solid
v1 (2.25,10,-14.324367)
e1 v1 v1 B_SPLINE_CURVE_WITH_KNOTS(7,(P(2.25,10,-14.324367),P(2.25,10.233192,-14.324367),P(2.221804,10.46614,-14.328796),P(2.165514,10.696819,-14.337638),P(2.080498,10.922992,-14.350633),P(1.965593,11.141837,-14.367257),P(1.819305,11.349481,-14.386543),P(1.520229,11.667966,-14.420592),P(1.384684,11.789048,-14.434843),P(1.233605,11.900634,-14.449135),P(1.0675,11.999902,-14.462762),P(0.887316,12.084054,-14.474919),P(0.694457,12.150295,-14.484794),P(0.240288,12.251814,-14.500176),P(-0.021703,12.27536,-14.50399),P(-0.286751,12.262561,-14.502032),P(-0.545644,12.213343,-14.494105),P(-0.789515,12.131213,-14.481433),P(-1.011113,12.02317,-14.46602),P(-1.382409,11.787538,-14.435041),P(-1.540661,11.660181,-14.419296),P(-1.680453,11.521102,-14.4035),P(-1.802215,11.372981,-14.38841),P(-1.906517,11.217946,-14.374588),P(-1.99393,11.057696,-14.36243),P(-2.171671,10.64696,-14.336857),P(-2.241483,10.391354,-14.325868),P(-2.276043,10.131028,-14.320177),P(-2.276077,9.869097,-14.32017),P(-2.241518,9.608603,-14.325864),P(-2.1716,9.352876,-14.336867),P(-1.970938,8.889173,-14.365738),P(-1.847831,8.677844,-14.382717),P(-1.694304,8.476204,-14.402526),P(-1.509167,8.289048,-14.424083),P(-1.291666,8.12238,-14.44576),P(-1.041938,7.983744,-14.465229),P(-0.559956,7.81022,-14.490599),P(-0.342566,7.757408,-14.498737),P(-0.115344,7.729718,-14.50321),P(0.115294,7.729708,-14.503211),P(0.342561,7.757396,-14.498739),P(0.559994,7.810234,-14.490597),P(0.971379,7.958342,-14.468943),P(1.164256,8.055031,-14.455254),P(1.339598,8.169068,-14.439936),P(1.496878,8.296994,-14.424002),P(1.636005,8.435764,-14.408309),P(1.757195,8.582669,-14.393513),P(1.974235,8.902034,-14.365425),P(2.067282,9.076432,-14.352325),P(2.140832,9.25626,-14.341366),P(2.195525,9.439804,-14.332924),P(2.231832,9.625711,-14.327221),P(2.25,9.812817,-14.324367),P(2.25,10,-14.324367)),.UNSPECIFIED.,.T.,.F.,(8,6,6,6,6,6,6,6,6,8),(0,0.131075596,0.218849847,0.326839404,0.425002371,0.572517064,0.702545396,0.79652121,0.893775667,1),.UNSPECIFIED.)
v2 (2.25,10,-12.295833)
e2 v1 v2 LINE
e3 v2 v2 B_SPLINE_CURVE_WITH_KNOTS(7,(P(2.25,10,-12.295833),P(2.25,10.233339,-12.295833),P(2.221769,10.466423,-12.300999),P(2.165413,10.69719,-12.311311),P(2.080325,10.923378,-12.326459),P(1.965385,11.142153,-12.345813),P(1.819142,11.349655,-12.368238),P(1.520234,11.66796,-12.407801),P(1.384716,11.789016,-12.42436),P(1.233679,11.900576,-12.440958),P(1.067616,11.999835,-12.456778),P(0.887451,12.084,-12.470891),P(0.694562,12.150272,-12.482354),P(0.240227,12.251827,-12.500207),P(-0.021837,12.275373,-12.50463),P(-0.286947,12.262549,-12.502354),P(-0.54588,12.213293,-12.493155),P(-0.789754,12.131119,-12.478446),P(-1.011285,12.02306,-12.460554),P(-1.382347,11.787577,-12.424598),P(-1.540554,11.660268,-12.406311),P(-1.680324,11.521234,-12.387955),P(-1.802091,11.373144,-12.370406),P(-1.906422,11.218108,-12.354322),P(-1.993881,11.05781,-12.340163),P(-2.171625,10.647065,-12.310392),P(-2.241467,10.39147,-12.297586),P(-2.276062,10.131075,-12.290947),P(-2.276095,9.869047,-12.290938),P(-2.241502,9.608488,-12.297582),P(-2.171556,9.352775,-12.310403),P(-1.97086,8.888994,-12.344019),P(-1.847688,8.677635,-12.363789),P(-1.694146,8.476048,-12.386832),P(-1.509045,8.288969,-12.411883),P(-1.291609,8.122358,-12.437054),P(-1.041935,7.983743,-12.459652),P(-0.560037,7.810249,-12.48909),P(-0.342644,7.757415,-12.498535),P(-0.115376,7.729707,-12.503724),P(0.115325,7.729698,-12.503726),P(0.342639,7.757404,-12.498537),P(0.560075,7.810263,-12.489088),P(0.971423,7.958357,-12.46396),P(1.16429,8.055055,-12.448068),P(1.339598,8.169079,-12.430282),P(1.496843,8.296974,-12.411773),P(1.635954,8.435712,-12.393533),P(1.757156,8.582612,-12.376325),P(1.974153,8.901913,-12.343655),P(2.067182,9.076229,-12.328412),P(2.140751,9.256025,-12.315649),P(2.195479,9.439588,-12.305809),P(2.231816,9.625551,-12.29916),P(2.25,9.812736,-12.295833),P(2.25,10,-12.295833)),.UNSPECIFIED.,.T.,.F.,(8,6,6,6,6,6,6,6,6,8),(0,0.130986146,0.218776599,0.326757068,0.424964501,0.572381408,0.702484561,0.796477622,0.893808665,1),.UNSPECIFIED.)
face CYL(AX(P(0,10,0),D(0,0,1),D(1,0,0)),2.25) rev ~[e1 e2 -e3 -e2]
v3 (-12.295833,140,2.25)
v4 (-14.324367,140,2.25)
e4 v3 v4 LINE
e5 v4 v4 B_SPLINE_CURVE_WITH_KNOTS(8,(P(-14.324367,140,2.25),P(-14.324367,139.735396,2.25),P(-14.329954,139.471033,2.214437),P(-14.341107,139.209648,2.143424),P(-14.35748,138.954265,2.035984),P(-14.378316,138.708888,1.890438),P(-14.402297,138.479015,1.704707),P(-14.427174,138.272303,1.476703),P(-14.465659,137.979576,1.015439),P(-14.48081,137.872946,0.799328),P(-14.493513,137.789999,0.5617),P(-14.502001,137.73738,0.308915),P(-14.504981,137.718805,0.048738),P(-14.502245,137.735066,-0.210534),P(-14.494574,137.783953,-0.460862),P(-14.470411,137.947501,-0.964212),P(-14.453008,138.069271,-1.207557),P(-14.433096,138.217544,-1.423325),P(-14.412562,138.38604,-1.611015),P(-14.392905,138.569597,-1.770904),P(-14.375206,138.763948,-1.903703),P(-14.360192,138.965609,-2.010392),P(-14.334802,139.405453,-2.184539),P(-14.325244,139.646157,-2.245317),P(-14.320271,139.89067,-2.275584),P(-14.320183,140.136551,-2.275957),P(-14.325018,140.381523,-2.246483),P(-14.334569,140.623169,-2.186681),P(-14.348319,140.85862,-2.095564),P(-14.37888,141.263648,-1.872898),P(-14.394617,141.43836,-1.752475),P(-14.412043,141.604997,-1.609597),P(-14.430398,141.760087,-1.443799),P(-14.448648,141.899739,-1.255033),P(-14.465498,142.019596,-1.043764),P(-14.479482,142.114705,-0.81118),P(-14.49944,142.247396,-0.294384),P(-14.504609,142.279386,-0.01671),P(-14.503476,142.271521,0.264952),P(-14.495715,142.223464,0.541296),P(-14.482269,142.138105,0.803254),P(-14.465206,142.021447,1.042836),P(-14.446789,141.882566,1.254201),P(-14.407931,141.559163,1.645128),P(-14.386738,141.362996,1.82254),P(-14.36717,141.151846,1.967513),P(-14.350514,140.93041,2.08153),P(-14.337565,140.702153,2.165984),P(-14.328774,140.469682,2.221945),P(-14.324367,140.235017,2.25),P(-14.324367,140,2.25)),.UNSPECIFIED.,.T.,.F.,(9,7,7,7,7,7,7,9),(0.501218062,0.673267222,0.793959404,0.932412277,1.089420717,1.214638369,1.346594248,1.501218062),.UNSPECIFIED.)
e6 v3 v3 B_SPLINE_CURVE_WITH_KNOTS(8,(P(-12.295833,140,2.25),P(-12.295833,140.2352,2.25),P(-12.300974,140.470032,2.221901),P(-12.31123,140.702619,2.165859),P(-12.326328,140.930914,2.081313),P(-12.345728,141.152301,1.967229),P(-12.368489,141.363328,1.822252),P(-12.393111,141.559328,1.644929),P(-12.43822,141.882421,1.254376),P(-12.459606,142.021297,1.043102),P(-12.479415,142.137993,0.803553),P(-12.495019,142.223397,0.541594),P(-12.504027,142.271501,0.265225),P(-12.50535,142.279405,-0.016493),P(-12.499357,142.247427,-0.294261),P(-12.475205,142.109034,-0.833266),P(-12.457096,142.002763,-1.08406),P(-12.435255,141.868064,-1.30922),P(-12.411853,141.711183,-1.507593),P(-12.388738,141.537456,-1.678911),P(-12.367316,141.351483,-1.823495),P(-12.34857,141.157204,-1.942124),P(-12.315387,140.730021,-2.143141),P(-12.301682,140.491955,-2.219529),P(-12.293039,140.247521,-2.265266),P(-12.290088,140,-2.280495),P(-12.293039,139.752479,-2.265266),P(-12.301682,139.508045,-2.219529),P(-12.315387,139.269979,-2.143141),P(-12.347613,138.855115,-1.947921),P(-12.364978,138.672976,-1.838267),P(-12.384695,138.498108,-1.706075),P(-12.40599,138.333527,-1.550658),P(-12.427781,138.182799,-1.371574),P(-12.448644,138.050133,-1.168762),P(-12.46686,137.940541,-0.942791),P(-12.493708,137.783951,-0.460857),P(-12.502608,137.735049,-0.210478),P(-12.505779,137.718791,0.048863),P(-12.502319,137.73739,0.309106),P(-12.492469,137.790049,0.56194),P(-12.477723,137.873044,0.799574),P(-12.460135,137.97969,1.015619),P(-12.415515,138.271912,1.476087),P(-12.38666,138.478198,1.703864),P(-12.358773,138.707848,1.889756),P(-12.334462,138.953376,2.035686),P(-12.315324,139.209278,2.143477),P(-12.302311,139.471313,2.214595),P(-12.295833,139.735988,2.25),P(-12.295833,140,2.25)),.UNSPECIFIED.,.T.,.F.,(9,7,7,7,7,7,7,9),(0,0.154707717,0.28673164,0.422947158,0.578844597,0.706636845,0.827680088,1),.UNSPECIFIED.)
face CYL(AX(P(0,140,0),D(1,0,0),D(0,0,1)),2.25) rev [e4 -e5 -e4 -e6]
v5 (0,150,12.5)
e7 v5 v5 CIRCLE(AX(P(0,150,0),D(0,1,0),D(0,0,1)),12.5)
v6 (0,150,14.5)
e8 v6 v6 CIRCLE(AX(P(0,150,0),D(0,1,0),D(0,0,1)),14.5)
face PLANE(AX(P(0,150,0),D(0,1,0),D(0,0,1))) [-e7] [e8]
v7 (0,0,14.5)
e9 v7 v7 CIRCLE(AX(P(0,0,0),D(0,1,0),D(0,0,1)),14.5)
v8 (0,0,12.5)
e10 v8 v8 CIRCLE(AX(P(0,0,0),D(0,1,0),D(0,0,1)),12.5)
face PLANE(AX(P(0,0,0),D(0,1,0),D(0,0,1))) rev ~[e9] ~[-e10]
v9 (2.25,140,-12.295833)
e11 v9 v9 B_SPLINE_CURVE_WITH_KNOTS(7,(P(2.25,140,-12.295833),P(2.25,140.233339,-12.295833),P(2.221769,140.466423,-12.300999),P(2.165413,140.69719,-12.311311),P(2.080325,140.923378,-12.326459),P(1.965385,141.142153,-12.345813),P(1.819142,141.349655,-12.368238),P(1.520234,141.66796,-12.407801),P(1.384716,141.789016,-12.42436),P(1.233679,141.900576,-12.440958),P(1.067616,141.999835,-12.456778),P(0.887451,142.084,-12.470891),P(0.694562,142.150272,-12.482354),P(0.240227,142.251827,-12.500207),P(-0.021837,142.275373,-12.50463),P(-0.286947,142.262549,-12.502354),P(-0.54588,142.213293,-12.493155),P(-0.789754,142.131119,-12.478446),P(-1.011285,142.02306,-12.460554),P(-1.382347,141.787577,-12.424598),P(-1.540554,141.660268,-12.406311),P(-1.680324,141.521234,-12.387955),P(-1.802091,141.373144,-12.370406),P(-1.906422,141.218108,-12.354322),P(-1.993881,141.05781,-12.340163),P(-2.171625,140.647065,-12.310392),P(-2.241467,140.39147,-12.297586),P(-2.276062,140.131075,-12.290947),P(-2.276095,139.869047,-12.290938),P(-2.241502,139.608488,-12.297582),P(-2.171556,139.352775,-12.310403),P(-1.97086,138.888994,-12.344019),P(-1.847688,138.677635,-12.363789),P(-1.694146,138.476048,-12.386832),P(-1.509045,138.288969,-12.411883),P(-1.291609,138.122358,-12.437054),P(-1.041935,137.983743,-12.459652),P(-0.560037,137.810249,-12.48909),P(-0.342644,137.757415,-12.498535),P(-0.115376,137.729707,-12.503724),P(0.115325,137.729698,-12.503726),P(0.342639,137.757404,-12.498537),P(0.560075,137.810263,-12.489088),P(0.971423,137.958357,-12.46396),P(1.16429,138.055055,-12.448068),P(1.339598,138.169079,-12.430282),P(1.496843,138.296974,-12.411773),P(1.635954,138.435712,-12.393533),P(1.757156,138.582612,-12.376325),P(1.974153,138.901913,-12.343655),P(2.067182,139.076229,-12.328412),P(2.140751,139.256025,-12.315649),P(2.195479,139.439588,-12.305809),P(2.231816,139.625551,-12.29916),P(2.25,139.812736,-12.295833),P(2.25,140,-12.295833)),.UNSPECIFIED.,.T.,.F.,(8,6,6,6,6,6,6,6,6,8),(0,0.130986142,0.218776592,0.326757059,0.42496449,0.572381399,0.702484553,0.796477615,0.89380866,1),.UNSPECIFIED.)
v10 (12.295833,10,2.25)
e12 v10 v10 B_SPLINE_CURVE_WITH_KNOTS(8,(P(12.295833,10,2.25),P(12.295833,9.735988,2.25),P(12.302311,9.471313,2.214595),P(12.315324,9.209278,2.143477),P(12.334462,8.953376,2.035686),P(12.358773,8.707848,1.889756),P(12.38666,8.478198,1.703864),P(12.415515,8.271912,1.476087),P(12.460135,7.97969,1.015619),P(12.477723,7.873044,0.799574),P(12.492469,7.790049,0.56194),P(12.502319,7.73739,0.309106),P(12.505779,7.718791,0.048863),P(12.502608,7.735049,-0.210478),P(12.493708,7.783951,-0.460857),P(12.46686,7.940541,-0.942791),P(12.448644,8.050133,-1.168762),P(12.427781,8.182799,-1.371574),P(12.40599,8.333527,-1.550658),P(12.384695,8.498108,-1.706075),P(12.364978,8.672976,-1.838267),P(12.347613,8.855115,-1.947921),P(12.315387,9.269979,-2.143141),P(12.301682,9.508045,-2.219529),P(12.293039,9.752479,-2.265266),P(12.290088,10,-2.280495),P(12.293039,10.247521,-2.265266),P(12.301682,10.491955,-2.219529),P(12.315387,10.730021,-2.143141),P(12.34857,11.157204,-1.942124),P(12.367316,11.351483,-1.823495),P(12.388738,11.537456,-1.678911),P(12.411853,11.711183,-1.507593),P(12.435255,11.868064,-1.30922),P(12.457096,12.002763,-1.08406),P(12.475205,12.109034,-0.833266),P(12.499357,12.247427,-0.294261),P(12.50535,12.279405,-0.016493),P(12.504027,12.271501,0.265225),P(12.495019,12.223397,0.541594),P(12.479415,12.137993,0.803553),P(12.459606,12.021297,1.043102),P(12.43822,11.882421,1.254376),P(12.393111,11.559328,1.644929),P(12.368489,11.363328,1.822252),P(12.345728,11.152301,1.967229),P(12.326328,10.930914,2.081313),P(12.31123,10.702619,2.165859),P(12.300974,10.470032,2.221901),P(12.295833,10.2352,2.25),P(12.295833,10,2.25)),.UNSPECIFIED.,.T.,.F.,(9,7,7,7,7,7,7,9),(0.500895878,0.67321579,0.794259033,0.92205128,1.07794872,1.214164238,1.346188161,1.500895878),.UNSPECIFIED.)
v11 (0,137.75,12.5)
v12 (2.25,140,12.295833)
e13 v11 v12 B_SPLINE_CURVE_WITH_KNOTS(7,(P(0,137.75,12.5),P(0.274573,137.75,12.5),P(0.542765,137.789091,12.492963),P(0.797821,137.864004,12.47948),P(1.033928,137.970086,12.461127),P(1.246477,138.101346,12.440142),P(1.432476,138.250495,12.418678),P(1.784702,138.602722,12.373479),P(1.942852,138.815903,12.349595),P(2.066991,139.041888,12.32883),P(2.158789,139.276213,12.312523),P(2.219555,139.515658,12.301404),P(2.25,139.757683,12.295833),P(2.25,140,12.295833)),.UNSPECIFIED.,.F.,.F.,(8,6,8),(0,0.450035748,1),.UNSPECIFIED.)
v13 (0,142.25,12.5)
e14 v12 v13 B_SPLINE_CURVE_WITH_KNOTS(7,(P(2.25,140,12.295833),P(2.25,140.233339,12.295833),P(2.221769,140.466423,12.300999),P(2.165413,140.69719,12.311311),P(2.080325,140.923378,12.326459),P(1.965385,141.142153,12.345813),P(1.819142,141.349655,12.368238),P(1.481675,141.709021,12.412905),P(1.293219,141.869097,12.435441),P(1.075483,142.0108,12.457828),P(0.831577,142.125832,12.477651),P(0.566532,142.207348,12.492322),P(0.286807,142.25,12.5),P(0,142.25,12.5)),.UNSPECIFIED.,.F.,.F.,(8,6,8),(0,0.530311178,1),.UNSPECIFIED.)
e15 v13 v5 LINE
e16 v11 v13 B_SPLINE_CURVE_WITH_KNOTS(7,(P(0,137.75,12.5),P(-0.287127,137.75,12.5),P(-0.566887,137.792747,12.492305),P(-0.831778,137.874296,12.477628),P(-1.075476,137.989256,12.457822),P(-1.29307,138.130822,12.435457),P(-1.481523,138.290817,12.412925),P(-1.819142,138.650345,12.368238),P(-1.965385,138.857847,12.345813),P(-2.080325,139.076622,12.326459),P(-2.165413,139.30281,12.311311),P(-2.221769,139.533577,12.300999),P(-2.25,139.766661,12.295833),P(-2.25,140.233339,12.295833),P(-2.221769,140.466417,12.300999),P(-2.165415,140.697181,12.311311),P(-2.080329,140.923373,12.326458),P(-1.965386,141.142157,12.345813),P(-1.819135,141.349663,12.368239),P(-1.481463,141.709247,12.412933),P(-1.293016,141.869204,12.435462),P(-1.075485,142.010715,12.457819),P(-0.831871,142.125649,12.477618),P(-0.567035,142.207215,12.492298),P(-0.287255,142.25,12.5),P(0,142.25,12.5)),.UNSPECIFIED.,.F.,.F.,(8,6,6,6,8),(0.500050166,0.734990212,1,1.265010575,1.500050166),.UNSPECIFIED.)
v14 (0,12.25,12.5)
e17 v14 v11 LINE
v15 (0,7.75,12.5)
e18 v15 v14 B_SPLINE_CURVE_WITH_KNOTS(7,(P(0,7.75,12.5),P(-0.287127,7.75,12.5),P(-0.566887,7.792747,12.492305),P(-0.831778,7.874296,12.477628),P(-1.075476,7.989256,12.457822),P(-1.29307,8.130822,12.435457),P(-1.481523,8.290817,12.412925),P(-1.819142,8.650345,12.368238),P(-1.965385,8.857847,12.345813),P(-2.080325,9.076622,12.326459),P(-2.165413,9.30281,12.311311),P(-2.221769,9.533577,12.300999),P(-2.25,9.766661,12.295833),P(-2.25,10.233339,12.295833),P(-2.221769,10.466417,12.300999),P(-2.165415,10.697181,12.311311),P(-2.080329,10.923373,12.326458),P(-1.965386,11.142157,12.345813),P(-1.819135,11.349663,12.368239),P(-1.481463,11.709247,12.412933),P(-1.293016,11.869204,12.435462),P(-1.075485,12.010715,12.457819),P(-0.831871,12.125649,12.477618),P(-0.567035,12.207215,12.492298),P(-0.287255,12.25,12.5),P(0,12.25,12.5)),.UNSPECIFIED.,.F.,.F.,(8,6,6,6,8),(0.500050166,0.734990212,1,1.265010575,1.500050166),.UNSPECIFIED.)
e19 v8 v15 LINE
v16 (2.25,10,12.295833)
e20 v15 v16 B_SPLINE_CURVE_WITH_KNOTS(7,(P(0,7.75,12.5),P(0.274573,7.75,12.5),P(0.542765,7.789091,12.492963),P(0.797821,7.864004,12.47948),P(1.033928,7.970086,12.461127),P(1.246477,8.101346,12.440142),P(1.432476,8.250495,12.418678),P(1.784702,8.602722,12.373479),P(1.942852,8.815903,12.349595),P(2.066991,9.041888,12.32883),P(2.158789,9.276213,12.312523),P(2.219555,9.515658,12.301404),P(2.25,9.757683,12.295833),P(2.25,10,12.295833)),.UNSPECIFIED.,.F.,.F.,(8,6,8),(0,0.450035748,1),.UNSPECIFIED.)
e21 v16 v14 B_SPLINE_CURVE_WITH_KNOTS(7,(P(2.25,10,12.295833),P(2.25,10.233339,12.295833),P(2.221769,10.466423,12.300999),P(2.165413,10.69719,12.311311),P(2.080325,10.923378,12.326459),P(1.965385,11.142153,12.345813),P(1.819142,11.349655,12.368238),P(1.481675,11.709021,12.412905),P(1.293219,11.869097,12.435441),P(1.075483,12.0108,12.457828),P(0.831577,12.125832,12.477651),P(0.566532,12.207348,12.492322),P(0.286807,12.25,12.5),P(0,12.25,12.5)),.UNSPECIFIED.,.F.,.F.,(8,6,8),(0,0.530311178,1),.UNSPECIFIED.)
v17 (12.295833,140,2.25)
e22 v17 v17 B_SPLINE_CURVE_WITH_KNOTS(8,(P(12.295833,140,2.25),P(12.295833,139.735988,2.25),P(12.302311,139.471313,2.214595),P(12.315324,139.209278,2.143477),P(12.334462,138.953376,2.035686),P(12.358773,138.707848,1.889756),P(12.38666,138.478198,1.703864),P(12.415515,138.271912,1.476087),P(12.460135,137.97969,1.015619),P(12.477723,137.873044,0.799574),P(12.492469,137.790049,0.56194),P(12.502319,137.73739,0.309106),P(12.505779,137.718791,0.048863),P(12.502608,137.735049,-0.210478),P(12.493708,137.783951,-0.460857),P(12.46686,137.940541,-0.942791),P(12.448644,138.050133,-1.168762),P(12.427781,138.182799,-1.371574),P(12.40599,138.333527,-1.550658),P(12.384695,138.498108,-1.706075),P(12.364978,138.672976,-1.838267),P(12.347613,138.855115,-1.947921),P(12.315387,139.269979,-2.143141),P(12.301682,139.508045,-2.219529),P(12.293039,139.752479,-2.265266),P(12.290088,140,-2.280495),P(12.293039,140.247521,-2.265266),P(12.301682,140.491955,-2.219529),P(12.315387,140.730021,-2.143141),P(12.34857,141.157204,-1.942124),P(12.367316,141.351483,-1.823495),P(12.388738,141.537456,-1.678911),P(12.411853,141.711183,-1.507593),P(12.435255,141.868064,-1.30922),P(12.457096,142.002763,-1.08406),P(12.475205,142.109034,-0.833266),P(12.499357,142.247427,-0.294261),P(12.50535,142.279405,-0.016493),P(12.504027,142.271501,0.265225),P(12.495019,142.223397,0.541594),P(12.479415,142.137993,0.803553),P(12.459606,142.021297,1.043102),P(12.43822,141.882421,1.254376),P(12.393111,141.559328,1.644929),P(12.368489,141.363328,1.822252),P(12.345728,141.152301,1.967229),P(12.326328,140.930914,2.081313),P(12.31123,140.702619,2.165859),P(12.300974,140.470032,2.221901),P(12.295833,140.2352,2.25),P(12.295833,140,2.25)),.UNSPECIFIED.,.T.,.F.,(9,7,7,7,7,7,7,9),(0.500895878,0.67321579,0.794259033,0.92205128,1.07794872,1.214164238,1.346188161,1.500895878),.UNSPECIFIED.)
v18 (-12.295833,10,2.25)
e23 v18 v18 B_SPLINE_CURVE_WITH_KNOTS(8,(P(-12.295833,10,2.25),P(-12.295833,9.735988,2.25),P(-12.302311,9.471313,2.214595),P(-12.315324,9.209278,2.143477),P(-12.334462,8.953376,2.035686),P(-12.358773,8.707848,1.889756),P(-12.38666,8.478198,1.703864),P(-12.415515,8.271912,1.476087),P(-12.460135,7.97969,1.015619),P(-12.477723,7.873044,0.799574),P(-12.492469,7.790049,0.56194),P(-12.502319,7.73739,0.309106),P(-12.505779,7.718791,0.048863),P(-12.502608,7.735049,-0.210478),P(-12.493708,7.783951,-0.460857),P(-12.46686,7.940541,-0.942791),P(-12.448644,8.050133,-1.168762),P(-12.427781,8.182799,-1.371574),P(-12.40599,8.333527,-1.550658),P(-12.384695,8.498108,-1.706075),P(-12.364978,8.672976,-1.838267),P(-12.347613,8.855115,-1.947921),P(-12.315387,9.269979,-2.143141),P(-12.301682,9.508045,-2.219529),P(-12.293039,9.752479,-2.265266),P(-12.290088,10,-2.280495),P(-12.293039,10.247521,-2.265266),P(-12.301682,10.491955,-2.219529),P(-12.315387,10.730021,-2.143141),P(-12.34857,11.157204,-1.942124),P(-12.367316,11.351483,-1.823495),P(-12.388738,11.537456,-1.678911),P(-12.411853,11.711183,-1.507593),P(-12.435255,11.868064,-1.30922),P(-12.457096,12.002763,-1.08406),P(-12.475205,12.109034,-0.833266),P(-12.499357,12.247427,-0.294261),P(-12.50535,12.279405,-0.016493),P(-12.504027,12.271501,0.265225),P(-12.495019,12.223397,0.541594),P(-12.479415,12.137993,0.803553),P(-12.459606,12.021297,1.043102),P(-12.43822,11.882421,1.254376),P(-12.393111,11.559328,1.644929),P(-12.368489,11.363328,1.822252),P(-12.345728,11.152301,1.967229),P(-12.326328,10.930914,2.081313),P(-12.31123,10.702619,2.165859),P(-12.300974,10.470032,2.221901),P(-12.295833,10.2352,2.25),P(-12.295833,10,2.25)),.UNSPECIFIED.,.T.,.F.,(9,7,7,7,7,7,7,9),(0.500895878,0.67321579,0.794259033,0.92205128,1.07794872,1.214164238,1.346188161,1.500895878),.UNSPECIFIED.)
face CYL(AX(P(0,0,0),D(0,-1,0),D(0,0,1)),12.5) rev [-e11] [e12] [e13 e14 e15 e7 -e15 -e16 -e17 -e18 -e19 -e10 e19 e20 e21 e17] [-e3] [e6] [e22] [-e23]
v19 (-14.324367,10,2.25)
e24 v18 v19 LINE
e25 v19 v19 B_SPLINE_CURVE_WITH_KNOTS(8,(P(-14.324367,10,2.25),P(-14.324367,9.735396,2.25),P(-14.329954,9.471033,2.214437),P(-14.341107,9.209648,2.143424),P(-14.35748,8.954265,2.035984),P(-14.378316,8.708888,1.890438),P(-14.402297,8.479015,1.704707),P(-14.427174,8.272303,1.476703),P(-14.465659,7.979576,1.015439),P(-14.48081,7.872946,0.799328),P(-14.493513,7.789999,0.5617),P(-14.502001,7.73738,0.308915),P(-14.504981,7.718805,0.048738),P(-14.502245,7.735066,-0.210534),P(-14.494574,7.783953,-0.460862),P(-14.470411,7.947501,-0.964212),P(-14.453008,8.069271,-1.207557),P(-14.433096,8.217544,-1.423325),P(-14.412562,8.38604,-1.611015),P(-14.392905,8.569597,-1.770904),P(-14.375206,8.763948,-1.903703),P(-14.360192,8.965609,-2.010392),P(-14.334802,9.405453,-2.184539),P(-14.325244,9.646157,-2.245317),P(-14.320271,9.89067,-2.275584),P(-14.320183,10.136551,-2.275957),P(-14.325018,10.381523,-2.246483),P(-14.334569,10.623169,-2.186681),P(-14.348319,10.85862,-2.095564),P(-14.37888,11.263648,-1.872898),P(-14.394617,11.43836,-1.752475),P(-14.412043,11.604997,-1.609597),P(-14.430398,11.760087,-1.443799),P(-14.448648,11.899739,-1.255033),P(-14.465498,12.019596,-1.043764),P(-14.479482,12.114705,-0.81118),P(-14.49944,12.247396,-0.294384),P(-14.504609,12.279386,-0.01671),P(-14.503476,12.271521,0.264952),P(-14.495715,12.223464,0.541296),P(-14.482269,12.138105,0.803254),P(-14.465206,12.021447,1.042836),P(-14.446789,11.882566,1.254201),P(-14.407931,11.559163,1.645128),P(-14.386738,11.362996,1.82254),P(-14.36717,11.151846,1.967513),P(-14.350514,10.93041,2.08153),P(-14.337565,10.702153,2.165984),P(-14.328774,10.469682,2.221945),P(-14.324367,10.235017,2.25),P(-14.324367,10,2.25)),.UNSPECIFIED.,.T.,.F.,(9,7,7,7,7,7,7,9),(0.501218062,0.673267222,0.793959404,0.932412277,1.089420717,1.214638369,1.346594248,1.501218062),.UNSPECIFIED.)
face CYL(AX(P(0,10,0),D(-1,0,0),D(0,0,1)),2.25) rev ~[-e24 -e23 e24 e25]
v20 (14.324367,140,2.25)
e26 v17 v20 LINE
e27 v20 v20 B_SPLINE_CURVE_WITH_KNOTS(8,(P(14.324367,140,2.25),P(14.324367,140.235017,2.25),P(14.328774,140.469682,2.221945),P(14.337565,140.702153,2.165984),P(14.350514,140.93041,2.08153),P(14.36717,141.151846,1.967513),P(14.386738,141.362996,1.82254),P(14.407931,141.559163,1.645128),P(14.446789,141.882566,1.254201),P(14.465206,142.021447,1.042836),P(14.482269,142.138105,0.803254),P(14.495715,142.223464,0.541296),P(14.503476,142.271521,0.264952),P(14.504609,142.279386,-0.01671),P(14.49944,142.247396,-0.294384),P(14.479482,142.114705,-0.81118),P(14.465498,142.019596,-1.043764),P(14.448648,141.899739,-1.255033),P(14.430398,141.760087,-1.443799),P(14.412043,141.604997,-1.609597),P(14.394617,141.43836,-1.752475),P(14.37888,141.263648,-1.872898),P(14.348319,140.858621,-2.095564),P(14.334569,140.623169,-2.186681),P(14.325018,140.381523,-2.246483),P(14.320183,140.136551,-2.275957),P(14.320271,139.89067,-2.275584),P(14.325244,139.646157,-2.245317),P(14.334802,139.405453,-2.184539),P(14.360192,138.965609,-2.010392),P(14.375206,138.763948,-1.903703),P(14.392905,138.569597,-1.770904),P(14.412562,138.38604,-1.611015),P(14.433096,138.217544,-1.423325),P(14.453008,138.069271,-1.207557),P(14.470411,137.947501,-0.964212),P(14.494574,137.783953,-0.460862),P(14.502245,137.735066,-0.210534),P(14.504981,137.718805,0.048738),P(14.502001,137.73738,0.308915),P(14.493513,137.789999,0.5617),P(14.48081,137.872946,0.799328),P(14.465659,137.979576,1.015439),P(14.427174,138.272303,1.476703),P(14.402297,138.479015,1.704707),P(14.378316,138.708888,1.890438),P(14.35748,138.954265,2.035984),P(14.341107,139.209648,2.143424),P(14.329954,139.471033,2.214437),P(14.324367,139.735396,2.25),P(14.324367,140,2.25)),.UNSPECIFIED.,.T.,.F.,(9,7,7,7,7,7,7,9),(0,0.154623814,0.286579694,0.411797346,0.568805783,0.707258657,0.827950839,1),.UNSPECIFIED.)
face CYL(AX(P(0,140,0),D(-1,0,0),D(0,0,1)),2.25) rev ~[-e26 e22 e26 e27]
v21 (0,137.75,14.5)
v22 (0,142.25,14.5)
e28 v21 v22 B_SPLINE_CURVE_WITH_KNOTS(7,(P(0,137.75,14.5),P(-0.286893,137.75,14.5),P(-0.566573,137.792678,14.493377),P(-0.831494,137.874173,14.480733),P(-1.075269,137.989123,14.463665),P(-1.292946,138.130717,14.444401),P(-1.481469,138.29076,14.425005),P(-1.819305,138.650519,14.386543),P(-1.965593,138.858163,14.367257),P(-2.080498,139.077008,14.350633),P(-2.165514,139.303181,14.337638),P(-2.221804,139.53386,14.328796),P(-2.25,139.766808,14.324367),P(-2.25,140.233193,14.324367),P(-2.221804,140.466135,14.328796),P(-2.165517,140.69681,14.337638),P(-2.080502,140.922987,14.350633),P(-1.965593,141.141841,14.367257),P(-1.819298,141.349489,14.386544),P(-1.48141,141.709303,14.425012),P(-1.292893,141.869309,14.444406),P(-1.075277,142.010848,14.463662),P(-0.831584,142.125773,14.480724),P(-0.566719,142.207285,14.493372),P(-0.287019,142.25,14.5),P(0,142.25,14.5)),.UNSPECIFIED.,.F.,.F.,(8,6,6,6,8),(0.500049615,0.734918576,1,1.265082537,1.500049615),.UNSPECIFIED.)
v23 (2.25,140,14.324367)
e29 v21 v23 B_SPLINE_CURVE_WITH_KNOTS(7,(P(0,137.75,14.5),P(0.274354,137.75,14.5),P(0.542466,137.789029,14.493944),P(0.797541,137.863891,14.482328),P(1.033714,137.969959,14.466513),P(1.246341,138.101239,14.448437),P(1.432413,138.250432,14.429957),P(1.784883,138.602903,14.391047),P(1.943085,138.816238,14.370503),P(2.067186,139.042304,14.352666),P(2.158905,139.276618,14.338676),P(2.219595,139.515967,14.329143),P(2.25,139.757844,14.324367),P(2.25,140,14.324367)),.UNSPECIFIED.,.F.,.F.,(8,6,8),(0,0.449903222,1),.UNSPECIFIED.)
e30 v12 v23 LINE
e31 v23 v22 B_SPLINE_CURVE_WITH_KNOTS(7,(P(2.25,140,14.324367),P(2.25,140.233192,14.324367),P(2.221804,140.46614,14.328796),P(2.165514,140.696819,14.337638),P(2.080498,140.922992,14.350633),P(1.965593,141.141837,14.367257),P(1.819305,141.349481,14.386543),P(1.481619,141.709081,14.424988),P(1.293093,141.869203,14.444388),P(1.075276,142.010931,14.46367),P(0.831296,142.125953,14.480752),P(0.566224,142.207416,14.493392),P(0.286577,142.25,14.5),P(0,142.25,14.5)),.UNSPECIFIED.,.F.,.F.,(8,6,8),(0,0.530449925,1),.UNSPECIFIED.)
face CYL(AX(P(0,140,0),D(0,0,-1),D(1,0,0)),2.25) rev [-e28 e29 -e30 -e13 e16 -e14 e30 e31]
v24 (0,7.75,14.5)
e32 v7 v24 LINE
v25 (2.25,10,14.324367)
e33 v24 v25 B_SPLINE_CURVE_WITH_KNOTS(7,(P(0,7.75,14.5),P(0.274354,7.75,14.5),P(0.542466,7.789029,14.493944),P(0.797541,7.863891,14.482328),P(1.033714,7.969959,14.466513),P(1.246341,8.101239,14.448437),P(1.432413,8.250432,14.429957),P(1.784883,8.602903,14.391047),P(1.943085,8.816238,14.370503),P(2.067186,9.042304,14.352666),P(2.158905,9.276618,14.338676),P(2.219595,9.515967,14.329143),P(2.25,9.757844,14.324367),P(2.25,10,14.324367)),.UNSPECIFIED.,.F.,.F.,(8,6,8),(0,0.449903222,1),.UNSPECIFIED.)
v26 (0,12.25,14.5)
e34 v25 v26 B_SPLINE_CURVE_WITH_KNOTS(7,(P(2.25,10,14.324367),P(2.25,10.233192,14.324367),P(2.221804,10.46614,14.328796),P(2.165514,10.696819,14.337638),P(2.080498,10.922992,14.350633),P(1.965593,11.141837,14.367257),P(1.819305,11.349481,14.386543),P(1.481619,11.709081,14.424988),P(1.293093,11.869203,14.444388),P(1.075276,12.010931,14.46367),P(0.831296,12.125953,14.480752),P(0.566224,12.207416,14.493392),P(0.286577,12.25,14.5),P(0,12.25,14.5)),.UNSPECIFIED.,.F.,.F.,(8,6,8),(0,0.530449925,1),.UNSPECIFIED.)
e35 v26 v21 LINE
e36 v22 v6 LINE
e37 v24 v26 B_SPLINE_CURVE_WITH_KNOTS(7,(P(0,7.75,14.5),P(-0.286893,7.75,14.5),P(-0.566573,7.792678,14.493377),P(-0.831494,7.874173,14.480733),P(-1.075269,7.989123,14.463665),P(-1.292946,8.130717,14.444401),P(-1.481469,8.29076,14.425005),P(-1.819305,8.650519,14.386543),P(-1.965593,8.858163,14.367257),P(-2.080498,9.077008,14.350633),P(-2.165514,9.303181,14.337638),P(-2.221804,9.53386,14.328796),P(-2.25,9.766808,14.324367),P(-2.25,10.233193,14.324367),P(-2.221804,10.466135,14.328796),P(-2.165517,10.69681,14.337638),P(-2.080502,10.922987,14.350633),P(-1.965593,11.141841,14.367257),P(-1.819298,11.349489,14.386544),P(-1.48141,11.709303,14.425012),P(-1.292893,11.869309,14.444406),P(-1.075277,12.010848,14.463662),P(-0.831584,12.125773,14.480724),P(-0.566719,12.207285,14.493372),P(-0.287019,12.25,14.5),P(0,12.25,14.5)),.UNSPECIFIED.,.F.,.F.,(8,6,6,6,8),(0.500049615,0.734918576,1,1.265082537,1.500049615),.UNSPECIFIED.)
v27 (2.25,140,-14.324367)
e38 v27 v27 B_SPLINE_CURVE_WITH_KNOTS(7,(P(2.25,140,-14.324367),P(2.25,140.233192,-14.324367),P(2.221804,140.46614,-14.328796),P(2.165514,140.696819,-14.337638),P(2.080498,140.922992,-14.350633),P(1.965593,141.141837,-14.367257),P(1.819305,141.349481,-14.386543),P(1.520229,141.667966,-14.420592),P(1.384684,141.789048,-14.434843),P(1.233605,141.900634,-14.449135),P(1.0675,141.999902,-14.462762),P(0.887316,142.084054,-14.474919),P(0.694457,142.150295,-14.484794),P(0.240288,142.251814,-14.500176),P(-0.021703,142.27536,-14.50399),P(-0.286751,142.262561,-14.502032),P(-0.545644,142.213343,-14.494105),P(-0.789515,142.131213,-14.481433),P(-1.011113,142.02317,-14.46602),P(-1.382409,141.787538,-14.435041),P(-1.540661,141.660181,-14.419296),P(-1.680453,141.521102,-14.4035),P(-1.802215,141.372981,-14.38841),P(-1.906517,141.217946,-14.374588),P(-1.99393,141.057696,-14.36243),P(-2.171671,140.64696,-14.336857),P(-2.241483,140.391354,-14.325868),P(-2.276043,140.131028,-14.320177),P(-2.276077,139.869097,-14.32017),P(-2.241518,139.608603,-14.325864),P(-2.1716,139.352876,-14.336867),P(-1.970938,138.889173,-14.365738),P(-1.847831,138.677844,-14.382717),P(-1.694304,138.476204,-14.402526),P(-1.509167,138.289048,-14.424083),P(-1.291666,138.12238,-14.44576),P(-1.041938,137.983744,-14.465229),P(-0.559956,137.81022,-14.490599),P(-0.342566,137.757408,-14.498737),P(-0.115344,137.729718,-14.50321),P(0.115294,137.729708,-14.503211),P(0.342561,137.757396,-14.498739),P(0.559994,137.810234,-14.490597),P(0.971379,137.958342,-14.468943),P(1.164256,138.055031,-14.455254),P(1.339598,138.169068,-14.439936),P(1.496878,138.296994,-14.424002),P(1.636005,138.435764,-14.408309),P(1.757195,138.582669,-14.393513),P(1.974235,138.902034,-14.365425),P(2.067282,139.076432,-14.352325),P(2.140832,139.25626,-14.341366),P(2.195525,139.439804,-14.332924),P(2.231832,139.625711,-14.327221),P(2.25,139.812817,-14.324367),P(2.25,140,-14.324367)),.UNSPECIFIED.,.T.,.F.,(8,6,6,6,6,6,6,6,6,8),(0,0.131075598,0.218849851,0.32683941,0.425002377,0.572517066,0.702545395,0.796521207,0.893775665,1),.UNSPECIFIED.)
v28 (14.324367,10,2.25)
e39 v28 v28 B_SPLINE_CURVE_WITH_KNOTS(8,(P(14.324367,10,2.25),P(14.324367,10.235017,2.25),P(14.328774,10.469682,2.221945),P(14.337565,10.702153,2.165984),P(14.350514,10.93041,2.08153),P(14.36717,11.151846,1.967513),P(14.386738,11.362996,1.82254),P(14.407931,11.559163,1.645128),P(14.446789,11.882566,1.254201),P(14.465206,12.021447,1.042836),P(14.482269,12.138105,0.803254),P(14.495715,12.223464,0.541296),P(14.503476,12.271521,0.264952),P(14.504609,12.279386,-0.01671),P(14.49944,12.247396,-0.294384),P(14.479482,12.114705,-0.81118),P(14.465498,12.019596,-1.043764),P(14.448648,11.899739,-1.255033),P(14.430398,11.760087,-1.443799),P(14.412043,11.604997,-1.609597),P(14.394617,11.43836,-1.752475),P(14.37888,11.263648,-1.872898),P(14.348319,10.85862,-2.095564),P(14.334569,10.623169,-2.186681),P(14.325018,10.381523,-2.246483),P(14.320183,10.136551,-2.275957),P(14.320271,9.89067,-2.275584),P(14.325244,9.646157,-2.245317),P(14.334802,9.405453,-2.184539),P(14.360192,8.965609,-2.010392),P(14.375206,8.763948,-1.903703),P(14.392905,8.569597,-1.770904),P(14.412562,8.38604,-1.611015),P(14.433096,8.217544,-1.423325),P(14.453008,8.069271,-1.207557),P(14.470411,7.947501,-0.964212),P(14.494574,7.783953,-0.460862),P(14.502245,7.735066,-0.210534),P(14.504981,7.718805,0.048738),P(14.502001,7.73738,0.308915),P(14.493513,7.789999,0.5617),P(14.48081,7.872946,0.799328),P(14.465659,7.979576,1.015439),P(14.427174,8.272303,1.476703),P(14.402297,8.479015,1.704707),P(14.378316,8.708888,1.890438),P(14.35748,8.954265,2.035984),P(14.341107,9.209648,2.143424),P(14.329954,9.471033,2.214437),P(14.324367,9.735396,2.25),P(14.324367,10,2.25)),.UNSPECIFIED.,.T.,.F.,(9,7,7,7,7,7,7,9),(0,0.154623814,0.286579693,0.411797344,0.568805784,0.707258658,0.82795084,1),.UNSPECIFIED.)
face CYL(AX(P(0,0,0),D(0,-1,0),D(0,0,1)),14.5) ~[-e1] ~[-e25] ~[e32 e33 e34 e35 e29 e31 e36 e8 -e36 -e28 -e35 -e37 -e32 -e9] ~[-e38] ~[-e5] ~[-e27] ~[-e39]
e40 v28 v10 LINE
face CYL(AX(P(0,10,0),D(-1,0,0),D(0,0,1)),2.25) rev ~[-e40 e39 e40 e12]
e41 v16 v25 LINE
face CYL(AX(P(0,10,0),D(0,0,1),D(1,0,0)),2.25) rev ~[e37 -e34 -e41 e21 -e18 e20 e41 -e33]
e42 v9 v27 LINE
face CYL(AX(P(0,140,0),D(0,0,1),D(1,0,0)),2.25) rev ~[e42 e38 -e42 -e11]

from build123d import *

# Parameters (mm, degrees)
SKETCH1_R           = 14.5
SKETCH1_R_2         = 12.5
BOSS_EXTRUDE1_DEPTH = 150
SKETCH2_R           = 2.25
CUT_EXTRUDE1_DEPTH  = 152.395178259
CIRPATTERN1_COUNT   = 4


with BuildPart() as part:
    # Sketch1 → Boss-Extrude1 (new body)
    with BuildSketch(Plane(origin=(0, 0, 0), x_dir=(1, 0, 0), z_dir=(0, 1, 0))):
        with Locations(Location((0, 0, 0), (0, 0, 270))):
            Circle(SKETCH1_R)
        with Locations(Location((0, 0, 0), (0, 0, 270))):
            Circle(SKETCH1_R_2, mode=Mode.SUBTRACT)
    extrude(amount=BOSS_EXTRUDE1_DEPTH)

    # Sketch2 → Cut-Extrude1 (cut, symmetric)
    with BuildSketch(Plane.XY):
        with Locations((0, 140)):
            Circle(SKETCH2_R)
        with Locations((0, 10)):
            Circle(SKETCH2_R)
    cut_extrude1 = extrude(amount=CUT_EXTRUDE1_DEPTH, both=True, mode=Mode.SUBTRACT)

    # CirPattern1: Cut-Extrude1 ×4 about axis
    cirpattern1_axis = Axis((0, 150, 0), (0, -1, 0))
    for i in range(1, CIRPATTERN1_COUNT):
        add(cut_extrude1.rotate(cirpattern1_axis, i * 360 / CIRPATTERN1_COUNT), mode=Mode.SUBTRACT)


solid = part.part
